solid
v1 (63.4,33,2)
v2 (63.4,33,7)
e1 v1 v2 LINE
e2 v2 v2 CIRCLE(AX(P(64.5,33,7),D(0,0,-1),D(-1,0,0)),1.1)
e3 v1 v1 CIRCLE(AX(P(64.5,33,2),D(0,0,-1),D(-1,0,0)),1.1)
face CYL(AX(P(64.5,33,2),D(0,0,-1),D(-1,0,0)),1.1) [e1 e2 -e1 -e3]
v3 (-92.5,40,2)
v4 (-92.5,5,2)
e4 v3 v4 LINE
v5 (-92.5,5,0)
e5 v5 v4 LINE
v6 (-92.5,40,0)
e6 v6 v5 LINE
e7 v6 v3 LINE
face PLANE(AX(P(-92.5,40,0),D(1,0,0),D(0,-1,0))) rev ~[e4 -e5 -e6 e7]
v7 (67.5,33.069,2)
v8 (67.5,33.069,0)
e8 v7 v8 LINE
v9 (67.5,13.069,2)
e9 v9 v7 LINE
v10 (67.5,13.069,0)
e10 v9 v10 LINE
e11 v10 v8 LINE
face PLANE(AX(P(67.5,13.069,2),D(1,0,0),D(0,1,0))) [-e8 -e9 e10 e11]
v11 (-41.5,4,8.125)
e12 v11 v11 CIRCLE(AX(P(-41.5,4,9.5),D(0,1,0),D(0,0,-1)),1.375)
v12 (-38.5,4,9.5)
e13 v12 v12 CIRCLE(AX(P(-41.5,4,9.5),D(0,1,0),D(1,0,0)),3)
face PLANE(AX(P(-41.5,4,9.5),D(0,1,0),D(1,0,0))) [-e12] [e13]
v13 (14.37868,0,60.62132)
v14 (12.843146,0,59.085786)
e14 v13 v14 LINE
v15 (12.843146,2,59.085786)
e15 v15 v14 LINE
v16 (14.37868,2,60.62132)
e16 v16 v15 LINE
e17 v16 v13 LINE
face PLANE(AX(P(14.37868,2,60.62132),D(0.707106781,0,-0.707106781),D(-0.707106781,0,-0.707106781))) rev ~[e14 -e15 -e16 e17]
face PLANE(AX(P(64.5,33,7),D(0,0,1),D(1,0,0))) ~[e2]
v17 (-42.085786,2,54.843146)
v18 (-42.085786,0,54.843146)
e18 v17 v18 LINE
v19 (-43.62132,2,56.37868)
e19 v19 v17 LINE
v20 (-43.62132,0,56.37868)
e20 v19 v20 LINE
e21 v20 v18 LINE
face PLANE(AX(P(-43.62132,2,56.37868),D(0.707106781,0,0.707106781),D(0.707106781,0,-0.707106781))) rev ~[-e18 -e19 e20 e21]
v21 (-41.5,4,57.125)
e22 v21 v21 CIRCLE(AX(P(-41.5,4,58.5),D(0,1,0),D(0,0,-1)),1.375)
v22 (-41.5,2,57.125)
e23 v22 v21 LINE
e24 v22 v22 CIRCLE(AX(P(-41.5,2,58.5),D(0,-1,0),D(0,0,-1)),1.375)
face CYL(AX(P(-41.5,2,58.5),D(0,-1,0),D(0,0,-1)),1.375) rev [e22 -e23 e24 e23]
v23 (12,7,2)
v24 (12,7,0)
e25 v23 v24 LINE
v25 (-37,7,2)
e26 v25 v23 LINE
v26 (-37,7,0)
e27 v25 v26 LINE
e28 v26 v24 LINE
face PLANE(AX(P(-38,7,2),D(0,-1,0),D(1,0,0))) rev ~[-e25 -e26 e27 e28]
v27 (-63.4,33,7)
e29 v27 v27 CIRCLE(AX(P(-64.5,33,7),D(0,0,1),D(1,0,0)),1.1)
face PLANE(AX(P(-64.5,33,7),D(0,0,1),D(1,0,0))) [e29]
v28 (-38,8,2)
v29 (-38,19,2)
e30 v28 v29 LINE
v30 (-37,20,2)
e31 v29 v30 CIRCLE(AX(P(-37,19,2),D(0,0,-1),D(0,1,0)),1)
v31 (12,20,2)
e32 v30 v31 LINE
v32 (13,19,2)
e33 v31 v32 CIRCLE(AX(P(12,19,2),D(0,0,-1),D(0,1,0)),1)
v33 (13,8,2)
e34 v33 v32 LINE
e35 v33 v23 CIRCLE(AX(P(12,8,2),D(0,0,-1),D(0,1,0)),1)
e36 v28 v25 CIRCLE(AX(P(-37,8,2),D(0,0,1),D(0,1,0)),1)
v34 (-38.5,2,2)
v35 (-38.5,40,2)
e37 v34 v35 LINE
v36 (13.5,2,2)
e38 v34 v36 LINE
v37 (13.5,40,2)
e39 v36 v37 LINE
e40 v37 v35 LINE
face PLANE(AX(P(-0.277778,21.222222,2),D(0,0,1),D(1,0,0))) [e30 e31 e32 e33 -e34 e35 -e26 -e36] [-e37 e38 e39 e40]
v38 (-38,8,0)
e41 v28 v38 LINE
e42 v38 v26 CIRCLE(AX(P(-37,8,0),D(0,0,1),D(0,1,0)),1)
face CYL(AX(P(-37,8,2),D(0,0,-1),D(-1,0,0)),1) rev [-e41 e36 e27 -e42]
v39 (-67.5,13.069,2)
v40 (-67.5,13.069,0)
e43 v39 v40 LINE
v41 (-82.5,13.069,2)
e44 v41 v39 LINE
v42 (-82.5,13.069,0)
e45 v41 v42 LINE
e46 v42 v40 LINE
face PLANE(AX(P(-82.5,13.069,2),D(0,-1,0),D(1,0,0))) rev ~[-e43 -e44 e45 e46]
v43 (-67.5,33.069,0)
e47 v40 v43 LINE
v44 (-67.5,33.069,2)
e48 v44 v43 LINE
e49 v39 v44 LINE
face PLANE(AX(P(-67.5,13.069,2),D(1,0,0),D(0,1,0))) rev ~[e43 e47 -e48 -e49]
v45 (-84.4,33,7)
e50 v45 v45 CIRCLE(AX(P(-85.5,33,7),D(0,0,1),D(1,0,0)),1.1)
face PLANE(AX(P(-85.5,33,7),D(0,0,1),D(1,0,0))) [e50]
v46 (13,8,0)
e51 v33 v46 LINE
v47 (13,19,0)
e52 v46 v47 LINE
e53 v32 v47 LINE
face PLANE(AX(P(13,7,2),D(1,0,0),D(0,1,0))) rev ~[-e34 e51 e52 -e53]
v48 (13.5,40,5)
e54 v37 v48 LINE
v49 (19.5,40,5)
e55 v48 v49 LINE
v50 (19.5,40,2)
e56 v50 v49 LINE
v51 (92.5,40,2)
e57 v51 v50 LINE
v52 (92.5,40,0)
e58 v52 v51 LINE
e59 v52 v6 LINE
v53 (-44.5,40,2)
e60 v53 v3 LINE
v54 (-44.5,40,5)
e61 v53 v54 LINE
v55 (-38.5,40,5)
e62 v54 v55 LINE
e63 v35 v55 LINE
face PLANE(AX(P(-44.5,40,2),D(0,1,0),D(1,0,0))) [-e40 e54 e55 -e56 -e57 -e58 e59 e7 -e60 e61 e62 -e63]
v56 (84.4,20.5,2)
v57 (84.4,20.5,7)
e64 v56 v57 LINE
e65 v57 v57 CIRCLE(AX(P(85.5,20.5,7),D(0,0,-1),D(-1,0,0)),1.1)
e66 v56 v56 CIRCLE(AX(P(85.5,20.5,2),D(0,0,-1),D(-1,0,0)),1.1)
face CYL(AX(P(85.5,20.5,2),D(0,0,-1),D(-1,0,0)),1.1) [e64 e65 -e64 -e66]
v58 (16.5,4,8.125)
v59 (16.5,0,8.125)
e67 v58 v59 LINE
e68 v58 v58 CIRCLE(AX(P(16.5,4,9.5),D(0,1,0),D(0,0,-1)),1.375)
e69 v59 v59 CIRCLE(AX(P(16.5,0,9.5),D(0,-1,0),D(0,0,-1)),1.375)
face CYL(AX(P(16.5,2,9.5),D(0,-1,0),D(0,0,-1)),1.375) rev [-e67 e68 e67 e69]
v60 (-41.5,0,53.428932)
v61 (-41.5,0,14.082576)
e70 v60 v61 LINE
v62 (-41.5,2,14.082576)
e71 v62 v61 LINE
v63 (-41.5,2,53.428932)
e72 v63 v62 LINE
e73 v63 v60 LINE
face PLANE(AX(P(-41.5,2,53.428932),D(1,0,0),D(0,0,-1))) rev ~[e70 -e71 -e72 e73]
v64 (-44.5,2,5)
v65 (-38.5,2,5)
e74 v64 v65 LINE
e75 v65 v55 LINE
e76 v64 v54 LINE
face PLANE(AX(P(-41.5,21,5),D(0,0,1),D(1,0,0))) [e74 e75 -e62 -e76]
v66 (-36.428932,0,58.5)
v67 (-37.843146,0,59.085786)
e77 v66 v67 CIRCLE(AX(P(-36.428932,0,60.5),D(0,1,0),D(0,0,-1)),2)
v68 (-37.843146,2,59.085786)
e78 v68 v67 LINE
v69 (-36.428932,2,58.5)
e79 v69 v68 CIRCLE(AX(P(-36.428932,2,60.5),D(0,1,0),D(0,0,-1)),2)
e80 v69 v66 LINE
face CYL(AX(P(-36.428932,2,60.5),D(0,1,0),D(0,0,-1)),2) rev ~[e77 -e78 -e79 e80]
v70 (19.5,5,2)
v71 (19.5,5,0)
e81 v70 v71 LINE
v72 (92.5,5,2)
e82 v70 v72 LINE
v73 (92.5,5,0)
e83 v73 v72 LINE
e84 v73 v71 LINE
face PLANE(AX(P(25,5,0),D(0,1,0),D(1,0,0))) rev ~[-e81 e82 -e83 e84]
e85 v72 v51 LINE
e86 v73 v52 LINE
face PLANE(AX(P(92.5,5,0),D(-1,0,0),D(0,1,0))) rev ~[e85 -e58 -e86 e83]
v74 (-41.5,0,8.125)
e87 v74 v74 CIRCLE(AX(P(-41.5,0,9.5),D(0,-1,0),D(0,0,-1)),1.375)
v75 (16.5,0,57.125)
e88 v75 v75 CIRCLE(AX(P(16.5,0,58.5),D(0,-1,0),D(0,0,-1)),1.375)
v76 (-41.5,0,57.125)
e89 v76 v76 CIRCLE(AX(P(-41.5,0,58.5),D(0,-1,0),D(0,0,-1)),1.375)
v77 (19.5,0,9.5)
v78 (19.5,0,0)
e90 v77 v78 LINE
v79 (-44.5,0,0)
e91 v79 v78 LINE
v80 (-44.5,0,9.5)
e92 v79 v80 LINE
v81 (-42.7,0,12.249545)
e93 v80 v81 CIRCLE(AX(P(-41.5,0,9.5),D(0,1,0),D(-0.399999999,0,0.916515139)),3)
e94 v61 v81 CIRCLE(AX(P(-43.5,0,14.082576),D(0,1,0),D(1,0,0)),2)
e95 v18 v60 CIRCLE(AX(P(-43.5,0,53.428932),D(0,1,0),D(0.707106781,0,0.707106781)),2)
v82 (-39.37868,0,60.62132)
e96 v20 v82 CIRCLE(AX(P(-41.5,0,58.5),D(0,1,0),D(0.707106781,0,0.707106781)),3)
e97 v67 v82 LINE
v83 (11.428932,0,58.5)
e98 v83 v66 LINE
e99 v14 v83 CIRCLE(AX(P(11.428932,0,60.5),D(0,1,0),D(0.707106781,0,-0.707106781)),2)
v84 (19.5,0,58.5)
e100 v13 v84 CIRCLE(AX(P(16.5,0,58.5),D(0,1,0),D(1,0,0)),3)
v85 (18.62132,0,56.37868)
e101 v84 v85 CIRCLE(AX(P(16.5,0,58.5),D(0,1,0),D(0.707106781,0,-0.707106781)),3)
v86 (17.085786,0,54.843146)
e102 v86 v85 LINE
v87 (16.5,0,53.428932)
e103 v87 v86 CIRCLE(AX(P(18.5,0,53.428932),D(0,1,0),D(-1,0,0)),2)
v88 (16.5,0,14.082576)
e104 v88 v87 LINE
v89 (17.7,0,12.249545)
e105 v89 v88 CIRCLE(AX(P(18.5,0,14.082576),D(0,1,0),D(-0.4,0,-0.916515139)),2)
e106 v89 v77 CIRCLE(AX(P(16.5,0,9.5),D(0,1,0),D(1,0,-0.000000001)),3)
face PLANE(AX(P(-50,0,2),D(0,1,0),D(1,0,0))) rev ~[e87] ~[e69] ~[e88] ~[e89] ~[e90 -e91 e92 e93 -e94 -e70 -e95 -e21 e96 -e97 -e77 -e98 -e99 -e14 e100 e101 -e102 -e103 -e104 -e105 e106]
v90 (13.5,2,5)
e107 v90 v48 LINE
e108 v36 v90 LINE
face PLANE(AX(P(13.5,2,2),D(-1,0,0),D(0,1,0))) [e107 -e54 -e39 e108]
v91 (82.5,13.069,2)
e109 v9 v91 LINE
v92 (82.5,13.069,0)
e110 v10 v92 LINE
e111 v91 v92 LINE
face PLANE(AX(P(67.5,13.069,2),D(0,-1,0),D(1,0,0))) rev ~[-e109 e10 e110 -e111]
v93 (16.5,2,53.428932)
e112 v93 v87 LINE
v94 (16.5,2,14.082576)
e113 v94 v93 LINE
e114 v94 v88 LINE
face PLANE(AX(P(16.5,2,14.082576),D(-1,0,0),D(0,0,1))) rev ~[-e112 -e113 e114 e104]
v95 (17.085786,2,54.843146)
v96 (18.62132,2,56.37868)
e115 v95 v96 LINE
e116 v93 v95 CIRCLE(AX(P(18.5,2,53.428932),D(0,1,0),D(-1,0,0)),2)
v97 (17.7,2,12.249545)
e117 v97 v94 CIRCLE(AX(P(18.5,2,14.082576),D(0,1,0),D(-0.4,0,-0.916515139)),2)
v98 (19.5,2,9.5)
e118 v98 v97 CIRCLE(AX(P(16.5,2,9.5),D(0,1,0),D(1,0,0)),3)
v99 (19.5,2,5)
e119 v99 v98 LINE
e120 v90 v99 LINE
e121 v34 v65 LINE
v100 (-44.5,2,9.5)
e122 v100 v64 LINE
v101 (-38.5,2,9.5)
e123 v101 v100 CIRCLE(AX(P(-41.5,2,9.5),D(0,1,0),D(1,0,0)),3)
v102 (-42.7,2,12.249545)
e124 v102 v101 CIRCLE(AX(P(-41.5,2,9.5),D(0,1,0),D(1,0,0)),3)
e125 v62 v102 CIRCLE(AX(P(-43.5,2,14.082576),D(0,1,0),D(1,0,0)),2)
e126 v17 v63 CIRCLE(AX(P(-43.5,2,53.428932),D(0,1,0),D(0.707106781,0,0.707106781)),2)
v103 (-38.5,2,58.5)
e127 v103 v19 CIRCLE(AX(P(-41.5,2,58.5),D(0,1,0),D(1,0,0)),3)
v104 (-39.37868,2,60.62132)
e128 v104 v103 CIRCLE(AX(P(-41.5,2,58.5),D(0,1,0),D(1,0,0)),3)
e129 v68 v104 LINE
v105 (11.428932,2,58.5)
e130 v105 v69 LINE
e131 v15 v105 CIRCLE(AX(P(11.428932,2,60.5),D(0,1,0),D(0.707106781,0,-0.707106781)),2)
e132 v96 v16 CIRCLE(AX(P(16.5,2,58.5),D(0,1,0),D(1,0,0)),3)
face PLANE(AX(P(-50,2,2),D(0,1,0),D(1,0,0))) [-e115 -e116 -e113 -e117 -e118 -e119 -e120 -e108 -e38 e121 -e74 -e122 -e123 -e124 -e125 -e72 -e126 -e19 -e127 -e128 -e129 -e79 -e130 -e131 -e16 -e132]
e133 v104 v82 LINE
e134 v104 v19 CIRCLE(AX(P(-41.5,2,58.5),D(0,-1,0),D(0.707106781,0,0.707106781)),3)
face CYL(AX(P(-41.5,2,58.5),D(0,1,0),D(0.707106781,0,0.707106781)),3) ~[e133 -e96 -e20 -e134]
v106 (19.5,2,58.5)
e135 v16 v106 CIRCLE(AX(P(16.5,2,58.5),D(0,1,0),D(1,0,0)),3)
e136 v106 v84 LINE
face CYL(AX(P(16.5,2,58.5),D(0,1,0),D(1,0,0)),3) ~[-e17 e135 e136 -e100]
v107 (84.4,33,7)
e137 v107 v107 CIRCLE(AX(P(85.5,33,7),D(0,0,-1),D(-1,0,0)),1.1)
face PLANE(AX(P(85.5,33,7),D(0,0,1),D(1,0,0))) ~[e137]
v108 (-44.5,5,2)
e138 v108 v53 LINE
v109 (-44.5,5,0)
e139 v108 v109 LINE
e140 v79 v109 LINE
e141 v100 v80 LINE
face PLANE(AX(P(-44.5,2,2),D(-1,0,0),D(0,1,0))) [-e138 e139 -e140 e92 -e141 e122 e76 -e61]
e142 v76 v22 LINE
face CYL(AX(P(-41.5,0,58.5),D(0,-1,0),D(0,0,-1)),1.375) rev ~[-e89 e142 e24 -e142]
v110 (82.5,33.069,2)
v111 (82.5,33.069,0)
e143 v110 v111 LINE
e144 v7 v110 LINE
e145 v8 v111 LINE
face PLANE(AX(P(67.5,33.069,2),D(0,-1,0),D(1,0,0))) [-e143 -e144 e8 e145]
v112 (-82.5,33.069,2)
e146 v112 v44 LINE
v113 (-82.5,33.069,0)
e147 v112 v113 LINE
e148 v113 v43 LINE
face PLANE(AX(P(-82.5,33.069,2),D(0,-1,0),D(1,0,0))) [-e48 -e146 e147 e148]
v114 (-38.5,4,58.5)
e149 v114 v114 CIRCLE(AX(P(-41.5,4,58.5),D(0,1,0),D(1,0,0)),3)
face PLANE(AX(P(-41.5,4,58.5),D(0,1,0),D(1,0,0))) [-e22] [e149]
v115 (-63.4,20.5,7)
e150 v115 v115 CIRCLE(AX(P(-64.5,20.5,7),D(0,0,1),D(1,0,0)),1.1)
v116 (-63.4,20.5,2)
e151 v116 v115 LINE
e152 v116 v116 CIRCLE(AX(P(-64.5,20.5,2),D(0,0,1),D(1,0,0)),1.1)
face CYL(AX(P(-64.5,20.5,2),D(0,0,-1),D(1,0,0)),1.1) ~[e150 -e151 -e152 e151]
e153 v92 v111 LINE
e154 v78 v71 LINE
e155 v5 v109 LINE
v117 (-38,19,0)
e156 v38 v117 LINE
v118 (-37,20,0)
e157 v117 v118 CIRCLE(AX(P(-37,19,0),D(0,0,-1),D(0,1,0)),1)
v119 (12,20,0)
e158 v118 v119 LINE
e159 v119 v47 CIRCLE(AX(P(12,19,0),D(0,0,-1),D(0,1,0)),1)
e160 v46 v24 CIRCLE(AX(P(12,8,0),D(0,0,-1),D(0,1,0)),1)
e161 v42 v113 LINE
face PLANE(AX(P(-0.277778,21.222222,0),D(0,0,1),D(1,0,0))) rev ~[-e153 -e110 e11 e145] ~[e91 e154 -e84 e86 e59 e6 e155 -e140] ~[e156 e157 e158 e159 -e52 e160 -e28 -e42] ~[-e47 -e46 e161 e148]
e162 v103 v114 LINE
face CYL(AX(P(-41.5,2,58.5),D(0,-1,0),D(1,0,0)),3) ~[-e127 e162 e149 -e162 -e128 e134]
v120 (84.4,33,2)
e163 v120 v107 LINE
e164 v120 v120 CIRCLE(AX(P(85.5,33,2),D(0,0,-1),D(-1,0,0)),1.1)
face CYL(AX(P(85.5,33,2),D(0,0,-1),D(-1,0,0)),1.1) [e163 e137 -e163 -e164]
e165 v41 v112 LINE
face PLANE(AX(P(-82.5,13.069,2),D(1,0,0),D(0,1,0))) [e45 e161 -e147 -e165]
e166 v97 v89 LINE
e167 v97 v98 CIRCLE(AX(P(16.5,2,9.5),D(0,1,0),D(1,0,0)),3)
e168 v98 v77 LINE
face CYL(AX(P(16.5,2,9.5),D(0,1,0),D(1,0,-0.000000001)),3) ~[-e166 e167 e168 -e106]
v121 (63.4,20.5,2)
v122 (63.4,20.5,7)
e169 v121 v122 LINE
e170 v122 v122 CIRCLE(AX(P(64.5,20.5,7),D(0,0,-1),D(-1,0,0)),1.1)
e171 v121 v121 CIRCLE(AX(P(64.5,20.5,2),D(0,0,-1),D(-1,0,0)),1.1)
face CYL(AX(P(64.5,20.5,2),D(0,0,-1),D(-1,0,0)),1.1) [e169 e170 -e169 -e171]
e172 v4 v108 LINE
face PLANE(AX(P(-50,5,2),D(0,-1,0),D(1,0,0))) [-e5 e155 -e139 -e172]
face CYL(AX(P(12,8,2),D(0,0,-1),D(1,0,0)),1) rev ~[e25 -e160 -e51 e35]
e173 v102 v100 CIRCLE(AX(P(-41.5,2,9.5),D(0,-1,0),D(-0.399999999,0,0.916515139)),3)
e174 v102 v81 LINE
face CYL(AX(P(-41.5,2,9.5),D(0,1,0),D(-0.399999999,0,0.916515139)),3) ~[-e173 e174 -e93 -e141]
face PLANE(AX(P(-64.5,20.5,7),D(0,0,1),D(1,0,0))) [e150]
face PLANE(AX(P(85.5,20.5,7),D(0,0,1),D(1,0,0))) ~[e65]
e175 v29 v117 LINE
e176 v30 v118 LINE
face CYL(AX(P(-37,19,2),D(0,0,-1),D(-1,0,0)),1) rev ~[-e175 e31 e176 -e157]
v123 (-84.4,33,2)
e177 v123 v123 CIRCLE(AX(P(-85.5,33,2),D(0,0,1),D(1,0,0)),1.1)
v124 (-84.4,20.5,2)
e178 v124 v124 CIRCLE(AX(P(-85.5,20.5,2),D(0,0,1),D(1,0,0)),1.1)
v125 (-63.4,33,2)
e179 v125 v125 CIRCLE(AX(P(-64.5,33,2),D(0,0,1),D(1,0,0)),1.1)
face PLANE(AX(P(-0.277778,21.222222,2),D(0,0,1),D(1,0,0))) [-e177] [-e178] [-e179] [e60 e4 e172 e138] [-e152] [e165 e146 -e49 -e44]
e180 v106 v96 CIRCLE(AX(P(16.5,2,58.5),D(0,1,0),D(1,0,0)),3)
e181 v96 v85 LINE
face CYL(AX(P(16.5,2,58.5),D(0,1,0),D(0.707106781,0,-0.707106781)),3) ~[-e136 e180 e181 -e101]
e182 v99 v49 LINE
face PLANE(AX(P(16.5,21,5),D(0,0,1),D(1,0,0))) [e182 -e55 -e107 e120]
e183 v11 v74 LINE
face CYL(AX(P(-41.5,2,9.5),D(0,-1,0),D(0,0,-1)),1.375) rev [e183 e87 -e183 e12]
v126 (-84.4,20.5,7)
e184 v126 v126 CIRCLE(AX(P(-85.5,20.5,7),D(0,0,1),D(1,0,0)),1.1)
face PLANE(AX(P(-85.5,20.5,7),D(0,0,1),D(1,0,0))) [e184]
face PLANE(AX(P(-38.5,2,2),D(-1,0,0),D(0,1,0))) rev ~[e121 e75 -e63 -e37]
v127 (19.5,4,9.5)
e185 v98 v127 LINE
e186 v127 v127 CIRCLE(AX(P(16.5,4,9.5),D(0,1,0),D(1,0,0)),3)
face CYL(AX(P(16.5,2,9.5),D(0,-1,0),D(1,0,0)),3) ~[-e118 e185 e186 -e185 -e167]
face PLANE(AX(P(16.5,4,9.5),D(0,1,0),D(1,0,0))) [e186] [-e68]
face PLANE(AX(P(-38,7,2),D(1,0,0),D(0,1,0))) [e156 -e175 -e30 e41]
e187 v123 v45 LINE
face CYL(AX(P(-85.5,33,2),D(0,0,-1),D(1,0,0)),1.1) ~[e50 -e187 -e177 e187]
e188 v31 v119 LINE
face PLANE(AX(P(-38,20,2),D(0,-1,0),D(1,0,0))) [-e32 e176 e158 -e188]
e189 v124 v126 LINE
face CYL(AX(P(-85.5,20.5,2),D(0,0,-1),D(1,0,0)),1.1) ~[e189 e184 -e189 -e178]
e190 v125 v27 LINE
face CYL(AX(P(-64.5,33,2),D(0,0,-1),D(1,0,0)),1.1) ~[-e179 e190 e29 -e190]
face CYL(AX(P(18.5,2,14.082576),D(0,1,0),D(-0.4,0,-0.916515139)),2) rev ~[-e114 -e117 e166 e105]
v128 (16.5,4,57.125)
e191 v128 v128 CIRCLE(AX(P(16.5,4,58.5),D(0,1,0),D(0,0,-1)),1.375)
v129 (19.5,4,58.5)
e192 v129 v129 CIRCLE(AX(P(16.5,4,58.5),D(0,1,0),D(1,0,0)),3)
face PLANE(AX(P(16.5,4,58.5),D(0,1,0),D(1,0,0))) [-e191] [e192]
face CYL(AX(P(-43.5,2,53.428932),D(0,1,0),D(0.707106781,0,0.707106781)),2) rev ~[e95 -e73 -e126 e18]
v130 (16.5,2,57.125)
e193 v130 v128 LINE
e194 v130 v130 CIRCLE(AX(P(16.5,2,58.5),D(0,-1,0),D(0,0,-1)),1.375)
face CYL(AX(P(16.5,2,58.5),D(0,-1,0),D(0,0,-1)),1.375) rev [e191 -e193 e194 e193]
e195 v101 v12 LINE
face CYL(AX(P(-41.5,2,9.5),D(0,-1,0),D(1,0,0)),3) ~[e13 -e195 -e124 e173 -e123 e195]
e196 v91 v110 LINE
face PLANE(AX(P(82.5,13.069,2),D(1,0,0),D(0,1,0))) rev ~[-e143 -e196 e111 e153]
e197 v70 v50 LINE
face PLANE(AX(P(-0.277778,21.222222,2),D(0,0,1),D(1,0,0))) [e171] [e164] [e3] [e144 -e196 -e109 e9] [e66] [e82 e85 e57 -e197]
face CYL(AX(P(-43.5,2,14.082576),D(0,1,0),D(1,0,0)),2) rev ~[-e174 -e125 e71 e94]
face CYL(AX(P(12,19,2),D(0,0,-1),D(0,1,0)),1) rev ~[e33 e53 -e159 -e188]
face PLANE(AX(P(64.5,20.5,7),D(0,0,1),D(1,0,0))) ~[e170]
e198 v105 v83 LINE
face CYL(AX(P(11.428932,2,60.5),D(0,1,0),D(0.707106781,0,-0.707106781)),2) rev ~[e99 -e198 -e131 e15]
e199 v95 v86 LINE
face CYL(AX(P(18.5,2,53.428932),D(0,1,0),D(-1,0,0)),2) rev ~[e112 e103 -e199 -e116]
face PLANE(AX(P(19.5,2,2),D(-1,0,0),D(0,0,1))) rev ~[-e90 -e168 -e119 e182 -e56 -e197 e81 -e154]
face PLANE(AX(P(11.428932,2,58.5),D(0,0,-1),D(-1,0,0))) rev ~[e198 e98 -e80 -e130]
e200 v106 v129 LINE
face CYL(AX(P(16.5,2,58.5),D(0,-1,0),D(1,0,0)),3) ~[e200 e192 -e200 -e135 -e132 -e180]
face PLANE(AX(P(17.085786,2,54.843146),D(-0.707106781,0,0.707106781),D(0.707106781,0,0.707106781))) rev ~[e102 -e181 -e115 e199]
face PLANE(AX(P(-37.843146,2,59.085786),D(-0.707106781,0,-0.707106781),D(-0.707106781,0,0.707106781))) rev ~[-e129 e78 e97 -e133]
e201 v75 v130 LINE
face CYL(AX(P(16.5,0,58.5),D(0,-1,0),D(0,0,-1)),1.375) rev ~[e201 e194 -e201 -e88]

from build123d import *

# Parameters (mm, degrees)
BOSS_EXTRUDE1_DEPTH = 2
SKETCH8_R           = 1.1
BOSS_EXTRUDE4_DEPTH = 5
SKETCH2_W           = 75
SKETCH2_H           = 2
BOSS_EXTRUDE2_DEPTH = 65
SKETCH9_W           = 15
SKETCH9_H           = 20
CUT_EXTRUDE2_DEPTH  = 120.921849552
SKETCH10_R          = 1.375
CUT_EXTRUDE3_DEPTH  = 122.017560709
SKETCH11_R          = 3
SKETCH11_R_2        = 1.375
BOSS_EXTRUDE5_DEPTH = 2
CUT_EXTRUDE4_DEPTH  = 121.371300566
SKETCH16_W          = 5.5
SKETCH16_H          = 5
CUT_EXTRUDE5_DEPTH  = 118.032046893
SKETCH17_W          = 6
SKETCH17_H          = 38
BOSS_EXTRUDE6_DEPTH = 3
SKETCH18_W          = 51
SKETCH18_H          = 13
CUT_EXTRUDE6_DEPTH  = 118.032046893
FILLET1_R           = 1


with BuildPart() as part:
    # Sketch1 → Boss-Extrude1 (new body)
    with BuildSketch(Plane.XY):
        Polygon((-50, 5), (-50, 0), (25, 0), (25, 5), (92.5, 5), (92.5, 40), (57.5, 40), (-57.5, 40), (-92.5, 40), (-92.5, 5), align=None)
    extrude(amount=BOSS_EXTRUDE1_DEPTH)

    # Sketch8 → Boss-Extrude4 (add)
    with BuildSketch(Plane.XY.offset(2)):
        with Locations((-85.5, 33)):
            Circle(SKETCH8_R)
        with Locations((-64.5, 33)):
            Circle(SKETCH8_R)
        with Locations((-85.5, 20.5)):
            Circle(SKETCH8_R)
        with Locations((-64.5, 20.5)):
            Circle(SKETCH8_R)
    boss_extrude4 = extrude(amount=BOSS_EXTRUDE4_DEPTH)

    # Mirror2: Boss-Extrude4 across plane
    add(boss_extrude4.mirror(Plane(origin=(0, 0, 0), x_dir=(0, 0, 1), z_dir=(1, 0, 0))))

    # Sketch2 → Boss-Extrude2 (add)
    with BuildSketch(Plane.XY.offset(2)):
        with Locations((-12.5, 1)):
            Rectangle(SKETCH2_W, SKETCH2_H)
    extrude(amount=BOSS_EXTRUDE2_DEPTH)

    # Sketch9 → Cut-Extrude2 (cut, through all)
    with BuildSketch(Plane.XY.offset(2)):
        with Locations((-75, 23.069)):
            Rectangle(SKETCH9_W, SKETCH9_H)
        with Locations((75, 23.069)):
            Rectangle(SKETCH9_W, SKETCH9_H)
    extrude(amount=-CUT_EXTRUDE2_DEPTH, mode=Mode.SUBTRACT)

    # Sketch10 → Cut-Extrude3 (cut, through all)
    with BuildSketch(Plane.XZ):
        with Locations(Location((-41.5, 58.5, 0), (0, 0, 270))):
            Circle(SKETCH10_R)
        with Locations(Location((-41.5, 9.5, 0), (0, 0, 270))):
            Circle(SKETCH10_R)
        with Locations(Location((16.5, 9.5, 0), (0, 0, 270))):
            Circle(SKETCH10_R)
        with Locations(Location((16.5, 58.5, 0), (0, 0, 270))):
            Circle(SKETCH10_R)
    extrude(amount=-CUT_EXTRUDE3_DEPTH, mode=Mode.SUBTRACT)

    # Sketch11 → Boss-Extrude5 (add)
    with BuildSketch(Plane(origin=(0, 2, 0), x_dir=(1, 0, 0), z_dir=(0, 1, 0))):
        with Locations((-41.5, -9.5)):
            Circle(SKETCH11_R)
        with Locations(Location((-41.5, -9.5, 0), (0, 0, 90))):
            Circle(SKETCH11_R_2, mode=Mode.SUBTRACT)
    boss_extrude5 = extrude(amount=BOSS_EXTRUDE5_DEPTH)

    # Sketch-Pattern1: Boss-Extrude5 at 3 more places
    with Locations((58, 0, 0), (58, 0, 49), (0, 0, 49)):
        add(boss_extrude5)

    # Sketch15 → Cut-Extrude4 (cut, through all)
    with BuildSketch(Plane(origin=(0, 2, 0), x_dir=(1, 0, 0), z_dir=(0, 1, 0))):
        with BuildLine():
            ThreePointArc((-42.7, -12.249545417), (-44.00998008, -11.143167673), (-44.5, -9.5))
            Line((-44.5, -9.5), (-44.5, -2))
            Line((-44.5, -2), (-50, -2))
            Line((-50, -2), (-50, -67))
            Line((-50, -67), (25, -67))
            Line((25, -67), (25, -2))
            Line((25, -2), (19.5, -2))
            Line((19.5, -2), (19.5, -9.5))
            ThreePointArc((19.5, -9.5), (19.00998008, -11.143167673), (17.7, -12.249545417))
            ThreePointArc((17.7, -12.249545417), (16.826679947, -12.98713058), (16.5, -14.082575695))
            Line((16.5, -14.082575695), (16.5, -53.428932188))
            ThreePointArc((16.5, -53.428932188), (16.652240935, -54.194299053), (17.085786438, -54.843145751))
            Line((17.085786438, -54.843145751), (18.621320344, -56.378679656))
            ThreePointArc((18.621320344, -56.378679656), (19.271638598, -57.351949703), (19.5, -58.5))
            ThreePointArc((19.5, -58.5), (17.648050297, -61.271638598), (14.378679656, -60.621320344))
            Line((14.378679656, -60.621320344), (12.843145751, -59.085786438))
            ThreePointArc((12.843145751, -59.085786438), (12.194299053, -58.652240935), (11.428932188, -58.5))
            Line((11.428932188, -58.5), (-36.428932188, -58.5))
            ThreePointArc((-36.428932188, -58.5), (-37.194299053, -58.652240935), (-37.843145751, -59.085786438))
            Line((-37.843145751, -59.085786438), (-39.378679656, -60.621320344))
            ThreePointArc((-39.378679656, -60.621320344), (-43.621320344, -60.621320344), (-43.621320344, -56.378679656))
            Line((-43.621320344, -56.378679656), (-42.085786438, -54.843145751))
            ThreePointArc((-42.085786438, -54.843145751), (-41.652240935, -54.194299053), (-41.5, -53.428932188))
            Line((-41.5, -53.428932188), (-41.5, -14.082575695))
            ThreePointArc((-41.5, -14.082575695), (-41.826679947, -12.98713058), (-42.7, -12.249545417))
        make_face()
    extrude(amount=-CUT_EXTRUDE4_DEPTH, mode=Mode.SUBTRACT)

    # Sketch16 → Cut-Extrude5 (cut, through all)
    with BuildSketch(Plane.XY.offset(2)):
        with Locations((-47.25, 2.5)):
            Rectangle(SKETCH16_W, SKETCH16_H)
        with Locations((22.25, 2.5)):
            Rectangle(SKETCH16_W, SKETCH16_H)
    extrude(amount=-CUT_EXTRUDE5_DEPTH, mode=Mode.SUBTRACT)

    # Sketch17 → Boss-Extrude6 (add)
    with BuildSketch(Plane.XY.offset(2)):
        with Locations((-41.5, 21)):
            Rectangle(SKETCH17_W, SKETCH17_H)
        with Locations((16.5, 21)):
            Rectangle(SKETCH17_W, SKETCH17_H)
    extrude(amount=BOSS_EXTRUDE6_DEPTH)

    # Sketch18 → Cut-Extrude6 (cut, through all)
    with BuildSketch(Plane.XY.offset(2)):
        with Locations((-12.5, 13.5)):
            Rectangle(SKETCH18_W, SKETCH18_H)
    extrude(amount=-CUT_EXTRUDE6_DEPTH, mode=Mode.SUBTRACT)

    # Fillet1
    fillet1_edges = [part.edges().sort_by_distance(p)[0] for p in [
        (-38, 20, 1),
        (13, 20, 1),
        (13, 7, 1),
        (-38, 7, 1),
    ]]
    fillet(fillet1_edges, radius=FILLET1_R)


solid = part.part
